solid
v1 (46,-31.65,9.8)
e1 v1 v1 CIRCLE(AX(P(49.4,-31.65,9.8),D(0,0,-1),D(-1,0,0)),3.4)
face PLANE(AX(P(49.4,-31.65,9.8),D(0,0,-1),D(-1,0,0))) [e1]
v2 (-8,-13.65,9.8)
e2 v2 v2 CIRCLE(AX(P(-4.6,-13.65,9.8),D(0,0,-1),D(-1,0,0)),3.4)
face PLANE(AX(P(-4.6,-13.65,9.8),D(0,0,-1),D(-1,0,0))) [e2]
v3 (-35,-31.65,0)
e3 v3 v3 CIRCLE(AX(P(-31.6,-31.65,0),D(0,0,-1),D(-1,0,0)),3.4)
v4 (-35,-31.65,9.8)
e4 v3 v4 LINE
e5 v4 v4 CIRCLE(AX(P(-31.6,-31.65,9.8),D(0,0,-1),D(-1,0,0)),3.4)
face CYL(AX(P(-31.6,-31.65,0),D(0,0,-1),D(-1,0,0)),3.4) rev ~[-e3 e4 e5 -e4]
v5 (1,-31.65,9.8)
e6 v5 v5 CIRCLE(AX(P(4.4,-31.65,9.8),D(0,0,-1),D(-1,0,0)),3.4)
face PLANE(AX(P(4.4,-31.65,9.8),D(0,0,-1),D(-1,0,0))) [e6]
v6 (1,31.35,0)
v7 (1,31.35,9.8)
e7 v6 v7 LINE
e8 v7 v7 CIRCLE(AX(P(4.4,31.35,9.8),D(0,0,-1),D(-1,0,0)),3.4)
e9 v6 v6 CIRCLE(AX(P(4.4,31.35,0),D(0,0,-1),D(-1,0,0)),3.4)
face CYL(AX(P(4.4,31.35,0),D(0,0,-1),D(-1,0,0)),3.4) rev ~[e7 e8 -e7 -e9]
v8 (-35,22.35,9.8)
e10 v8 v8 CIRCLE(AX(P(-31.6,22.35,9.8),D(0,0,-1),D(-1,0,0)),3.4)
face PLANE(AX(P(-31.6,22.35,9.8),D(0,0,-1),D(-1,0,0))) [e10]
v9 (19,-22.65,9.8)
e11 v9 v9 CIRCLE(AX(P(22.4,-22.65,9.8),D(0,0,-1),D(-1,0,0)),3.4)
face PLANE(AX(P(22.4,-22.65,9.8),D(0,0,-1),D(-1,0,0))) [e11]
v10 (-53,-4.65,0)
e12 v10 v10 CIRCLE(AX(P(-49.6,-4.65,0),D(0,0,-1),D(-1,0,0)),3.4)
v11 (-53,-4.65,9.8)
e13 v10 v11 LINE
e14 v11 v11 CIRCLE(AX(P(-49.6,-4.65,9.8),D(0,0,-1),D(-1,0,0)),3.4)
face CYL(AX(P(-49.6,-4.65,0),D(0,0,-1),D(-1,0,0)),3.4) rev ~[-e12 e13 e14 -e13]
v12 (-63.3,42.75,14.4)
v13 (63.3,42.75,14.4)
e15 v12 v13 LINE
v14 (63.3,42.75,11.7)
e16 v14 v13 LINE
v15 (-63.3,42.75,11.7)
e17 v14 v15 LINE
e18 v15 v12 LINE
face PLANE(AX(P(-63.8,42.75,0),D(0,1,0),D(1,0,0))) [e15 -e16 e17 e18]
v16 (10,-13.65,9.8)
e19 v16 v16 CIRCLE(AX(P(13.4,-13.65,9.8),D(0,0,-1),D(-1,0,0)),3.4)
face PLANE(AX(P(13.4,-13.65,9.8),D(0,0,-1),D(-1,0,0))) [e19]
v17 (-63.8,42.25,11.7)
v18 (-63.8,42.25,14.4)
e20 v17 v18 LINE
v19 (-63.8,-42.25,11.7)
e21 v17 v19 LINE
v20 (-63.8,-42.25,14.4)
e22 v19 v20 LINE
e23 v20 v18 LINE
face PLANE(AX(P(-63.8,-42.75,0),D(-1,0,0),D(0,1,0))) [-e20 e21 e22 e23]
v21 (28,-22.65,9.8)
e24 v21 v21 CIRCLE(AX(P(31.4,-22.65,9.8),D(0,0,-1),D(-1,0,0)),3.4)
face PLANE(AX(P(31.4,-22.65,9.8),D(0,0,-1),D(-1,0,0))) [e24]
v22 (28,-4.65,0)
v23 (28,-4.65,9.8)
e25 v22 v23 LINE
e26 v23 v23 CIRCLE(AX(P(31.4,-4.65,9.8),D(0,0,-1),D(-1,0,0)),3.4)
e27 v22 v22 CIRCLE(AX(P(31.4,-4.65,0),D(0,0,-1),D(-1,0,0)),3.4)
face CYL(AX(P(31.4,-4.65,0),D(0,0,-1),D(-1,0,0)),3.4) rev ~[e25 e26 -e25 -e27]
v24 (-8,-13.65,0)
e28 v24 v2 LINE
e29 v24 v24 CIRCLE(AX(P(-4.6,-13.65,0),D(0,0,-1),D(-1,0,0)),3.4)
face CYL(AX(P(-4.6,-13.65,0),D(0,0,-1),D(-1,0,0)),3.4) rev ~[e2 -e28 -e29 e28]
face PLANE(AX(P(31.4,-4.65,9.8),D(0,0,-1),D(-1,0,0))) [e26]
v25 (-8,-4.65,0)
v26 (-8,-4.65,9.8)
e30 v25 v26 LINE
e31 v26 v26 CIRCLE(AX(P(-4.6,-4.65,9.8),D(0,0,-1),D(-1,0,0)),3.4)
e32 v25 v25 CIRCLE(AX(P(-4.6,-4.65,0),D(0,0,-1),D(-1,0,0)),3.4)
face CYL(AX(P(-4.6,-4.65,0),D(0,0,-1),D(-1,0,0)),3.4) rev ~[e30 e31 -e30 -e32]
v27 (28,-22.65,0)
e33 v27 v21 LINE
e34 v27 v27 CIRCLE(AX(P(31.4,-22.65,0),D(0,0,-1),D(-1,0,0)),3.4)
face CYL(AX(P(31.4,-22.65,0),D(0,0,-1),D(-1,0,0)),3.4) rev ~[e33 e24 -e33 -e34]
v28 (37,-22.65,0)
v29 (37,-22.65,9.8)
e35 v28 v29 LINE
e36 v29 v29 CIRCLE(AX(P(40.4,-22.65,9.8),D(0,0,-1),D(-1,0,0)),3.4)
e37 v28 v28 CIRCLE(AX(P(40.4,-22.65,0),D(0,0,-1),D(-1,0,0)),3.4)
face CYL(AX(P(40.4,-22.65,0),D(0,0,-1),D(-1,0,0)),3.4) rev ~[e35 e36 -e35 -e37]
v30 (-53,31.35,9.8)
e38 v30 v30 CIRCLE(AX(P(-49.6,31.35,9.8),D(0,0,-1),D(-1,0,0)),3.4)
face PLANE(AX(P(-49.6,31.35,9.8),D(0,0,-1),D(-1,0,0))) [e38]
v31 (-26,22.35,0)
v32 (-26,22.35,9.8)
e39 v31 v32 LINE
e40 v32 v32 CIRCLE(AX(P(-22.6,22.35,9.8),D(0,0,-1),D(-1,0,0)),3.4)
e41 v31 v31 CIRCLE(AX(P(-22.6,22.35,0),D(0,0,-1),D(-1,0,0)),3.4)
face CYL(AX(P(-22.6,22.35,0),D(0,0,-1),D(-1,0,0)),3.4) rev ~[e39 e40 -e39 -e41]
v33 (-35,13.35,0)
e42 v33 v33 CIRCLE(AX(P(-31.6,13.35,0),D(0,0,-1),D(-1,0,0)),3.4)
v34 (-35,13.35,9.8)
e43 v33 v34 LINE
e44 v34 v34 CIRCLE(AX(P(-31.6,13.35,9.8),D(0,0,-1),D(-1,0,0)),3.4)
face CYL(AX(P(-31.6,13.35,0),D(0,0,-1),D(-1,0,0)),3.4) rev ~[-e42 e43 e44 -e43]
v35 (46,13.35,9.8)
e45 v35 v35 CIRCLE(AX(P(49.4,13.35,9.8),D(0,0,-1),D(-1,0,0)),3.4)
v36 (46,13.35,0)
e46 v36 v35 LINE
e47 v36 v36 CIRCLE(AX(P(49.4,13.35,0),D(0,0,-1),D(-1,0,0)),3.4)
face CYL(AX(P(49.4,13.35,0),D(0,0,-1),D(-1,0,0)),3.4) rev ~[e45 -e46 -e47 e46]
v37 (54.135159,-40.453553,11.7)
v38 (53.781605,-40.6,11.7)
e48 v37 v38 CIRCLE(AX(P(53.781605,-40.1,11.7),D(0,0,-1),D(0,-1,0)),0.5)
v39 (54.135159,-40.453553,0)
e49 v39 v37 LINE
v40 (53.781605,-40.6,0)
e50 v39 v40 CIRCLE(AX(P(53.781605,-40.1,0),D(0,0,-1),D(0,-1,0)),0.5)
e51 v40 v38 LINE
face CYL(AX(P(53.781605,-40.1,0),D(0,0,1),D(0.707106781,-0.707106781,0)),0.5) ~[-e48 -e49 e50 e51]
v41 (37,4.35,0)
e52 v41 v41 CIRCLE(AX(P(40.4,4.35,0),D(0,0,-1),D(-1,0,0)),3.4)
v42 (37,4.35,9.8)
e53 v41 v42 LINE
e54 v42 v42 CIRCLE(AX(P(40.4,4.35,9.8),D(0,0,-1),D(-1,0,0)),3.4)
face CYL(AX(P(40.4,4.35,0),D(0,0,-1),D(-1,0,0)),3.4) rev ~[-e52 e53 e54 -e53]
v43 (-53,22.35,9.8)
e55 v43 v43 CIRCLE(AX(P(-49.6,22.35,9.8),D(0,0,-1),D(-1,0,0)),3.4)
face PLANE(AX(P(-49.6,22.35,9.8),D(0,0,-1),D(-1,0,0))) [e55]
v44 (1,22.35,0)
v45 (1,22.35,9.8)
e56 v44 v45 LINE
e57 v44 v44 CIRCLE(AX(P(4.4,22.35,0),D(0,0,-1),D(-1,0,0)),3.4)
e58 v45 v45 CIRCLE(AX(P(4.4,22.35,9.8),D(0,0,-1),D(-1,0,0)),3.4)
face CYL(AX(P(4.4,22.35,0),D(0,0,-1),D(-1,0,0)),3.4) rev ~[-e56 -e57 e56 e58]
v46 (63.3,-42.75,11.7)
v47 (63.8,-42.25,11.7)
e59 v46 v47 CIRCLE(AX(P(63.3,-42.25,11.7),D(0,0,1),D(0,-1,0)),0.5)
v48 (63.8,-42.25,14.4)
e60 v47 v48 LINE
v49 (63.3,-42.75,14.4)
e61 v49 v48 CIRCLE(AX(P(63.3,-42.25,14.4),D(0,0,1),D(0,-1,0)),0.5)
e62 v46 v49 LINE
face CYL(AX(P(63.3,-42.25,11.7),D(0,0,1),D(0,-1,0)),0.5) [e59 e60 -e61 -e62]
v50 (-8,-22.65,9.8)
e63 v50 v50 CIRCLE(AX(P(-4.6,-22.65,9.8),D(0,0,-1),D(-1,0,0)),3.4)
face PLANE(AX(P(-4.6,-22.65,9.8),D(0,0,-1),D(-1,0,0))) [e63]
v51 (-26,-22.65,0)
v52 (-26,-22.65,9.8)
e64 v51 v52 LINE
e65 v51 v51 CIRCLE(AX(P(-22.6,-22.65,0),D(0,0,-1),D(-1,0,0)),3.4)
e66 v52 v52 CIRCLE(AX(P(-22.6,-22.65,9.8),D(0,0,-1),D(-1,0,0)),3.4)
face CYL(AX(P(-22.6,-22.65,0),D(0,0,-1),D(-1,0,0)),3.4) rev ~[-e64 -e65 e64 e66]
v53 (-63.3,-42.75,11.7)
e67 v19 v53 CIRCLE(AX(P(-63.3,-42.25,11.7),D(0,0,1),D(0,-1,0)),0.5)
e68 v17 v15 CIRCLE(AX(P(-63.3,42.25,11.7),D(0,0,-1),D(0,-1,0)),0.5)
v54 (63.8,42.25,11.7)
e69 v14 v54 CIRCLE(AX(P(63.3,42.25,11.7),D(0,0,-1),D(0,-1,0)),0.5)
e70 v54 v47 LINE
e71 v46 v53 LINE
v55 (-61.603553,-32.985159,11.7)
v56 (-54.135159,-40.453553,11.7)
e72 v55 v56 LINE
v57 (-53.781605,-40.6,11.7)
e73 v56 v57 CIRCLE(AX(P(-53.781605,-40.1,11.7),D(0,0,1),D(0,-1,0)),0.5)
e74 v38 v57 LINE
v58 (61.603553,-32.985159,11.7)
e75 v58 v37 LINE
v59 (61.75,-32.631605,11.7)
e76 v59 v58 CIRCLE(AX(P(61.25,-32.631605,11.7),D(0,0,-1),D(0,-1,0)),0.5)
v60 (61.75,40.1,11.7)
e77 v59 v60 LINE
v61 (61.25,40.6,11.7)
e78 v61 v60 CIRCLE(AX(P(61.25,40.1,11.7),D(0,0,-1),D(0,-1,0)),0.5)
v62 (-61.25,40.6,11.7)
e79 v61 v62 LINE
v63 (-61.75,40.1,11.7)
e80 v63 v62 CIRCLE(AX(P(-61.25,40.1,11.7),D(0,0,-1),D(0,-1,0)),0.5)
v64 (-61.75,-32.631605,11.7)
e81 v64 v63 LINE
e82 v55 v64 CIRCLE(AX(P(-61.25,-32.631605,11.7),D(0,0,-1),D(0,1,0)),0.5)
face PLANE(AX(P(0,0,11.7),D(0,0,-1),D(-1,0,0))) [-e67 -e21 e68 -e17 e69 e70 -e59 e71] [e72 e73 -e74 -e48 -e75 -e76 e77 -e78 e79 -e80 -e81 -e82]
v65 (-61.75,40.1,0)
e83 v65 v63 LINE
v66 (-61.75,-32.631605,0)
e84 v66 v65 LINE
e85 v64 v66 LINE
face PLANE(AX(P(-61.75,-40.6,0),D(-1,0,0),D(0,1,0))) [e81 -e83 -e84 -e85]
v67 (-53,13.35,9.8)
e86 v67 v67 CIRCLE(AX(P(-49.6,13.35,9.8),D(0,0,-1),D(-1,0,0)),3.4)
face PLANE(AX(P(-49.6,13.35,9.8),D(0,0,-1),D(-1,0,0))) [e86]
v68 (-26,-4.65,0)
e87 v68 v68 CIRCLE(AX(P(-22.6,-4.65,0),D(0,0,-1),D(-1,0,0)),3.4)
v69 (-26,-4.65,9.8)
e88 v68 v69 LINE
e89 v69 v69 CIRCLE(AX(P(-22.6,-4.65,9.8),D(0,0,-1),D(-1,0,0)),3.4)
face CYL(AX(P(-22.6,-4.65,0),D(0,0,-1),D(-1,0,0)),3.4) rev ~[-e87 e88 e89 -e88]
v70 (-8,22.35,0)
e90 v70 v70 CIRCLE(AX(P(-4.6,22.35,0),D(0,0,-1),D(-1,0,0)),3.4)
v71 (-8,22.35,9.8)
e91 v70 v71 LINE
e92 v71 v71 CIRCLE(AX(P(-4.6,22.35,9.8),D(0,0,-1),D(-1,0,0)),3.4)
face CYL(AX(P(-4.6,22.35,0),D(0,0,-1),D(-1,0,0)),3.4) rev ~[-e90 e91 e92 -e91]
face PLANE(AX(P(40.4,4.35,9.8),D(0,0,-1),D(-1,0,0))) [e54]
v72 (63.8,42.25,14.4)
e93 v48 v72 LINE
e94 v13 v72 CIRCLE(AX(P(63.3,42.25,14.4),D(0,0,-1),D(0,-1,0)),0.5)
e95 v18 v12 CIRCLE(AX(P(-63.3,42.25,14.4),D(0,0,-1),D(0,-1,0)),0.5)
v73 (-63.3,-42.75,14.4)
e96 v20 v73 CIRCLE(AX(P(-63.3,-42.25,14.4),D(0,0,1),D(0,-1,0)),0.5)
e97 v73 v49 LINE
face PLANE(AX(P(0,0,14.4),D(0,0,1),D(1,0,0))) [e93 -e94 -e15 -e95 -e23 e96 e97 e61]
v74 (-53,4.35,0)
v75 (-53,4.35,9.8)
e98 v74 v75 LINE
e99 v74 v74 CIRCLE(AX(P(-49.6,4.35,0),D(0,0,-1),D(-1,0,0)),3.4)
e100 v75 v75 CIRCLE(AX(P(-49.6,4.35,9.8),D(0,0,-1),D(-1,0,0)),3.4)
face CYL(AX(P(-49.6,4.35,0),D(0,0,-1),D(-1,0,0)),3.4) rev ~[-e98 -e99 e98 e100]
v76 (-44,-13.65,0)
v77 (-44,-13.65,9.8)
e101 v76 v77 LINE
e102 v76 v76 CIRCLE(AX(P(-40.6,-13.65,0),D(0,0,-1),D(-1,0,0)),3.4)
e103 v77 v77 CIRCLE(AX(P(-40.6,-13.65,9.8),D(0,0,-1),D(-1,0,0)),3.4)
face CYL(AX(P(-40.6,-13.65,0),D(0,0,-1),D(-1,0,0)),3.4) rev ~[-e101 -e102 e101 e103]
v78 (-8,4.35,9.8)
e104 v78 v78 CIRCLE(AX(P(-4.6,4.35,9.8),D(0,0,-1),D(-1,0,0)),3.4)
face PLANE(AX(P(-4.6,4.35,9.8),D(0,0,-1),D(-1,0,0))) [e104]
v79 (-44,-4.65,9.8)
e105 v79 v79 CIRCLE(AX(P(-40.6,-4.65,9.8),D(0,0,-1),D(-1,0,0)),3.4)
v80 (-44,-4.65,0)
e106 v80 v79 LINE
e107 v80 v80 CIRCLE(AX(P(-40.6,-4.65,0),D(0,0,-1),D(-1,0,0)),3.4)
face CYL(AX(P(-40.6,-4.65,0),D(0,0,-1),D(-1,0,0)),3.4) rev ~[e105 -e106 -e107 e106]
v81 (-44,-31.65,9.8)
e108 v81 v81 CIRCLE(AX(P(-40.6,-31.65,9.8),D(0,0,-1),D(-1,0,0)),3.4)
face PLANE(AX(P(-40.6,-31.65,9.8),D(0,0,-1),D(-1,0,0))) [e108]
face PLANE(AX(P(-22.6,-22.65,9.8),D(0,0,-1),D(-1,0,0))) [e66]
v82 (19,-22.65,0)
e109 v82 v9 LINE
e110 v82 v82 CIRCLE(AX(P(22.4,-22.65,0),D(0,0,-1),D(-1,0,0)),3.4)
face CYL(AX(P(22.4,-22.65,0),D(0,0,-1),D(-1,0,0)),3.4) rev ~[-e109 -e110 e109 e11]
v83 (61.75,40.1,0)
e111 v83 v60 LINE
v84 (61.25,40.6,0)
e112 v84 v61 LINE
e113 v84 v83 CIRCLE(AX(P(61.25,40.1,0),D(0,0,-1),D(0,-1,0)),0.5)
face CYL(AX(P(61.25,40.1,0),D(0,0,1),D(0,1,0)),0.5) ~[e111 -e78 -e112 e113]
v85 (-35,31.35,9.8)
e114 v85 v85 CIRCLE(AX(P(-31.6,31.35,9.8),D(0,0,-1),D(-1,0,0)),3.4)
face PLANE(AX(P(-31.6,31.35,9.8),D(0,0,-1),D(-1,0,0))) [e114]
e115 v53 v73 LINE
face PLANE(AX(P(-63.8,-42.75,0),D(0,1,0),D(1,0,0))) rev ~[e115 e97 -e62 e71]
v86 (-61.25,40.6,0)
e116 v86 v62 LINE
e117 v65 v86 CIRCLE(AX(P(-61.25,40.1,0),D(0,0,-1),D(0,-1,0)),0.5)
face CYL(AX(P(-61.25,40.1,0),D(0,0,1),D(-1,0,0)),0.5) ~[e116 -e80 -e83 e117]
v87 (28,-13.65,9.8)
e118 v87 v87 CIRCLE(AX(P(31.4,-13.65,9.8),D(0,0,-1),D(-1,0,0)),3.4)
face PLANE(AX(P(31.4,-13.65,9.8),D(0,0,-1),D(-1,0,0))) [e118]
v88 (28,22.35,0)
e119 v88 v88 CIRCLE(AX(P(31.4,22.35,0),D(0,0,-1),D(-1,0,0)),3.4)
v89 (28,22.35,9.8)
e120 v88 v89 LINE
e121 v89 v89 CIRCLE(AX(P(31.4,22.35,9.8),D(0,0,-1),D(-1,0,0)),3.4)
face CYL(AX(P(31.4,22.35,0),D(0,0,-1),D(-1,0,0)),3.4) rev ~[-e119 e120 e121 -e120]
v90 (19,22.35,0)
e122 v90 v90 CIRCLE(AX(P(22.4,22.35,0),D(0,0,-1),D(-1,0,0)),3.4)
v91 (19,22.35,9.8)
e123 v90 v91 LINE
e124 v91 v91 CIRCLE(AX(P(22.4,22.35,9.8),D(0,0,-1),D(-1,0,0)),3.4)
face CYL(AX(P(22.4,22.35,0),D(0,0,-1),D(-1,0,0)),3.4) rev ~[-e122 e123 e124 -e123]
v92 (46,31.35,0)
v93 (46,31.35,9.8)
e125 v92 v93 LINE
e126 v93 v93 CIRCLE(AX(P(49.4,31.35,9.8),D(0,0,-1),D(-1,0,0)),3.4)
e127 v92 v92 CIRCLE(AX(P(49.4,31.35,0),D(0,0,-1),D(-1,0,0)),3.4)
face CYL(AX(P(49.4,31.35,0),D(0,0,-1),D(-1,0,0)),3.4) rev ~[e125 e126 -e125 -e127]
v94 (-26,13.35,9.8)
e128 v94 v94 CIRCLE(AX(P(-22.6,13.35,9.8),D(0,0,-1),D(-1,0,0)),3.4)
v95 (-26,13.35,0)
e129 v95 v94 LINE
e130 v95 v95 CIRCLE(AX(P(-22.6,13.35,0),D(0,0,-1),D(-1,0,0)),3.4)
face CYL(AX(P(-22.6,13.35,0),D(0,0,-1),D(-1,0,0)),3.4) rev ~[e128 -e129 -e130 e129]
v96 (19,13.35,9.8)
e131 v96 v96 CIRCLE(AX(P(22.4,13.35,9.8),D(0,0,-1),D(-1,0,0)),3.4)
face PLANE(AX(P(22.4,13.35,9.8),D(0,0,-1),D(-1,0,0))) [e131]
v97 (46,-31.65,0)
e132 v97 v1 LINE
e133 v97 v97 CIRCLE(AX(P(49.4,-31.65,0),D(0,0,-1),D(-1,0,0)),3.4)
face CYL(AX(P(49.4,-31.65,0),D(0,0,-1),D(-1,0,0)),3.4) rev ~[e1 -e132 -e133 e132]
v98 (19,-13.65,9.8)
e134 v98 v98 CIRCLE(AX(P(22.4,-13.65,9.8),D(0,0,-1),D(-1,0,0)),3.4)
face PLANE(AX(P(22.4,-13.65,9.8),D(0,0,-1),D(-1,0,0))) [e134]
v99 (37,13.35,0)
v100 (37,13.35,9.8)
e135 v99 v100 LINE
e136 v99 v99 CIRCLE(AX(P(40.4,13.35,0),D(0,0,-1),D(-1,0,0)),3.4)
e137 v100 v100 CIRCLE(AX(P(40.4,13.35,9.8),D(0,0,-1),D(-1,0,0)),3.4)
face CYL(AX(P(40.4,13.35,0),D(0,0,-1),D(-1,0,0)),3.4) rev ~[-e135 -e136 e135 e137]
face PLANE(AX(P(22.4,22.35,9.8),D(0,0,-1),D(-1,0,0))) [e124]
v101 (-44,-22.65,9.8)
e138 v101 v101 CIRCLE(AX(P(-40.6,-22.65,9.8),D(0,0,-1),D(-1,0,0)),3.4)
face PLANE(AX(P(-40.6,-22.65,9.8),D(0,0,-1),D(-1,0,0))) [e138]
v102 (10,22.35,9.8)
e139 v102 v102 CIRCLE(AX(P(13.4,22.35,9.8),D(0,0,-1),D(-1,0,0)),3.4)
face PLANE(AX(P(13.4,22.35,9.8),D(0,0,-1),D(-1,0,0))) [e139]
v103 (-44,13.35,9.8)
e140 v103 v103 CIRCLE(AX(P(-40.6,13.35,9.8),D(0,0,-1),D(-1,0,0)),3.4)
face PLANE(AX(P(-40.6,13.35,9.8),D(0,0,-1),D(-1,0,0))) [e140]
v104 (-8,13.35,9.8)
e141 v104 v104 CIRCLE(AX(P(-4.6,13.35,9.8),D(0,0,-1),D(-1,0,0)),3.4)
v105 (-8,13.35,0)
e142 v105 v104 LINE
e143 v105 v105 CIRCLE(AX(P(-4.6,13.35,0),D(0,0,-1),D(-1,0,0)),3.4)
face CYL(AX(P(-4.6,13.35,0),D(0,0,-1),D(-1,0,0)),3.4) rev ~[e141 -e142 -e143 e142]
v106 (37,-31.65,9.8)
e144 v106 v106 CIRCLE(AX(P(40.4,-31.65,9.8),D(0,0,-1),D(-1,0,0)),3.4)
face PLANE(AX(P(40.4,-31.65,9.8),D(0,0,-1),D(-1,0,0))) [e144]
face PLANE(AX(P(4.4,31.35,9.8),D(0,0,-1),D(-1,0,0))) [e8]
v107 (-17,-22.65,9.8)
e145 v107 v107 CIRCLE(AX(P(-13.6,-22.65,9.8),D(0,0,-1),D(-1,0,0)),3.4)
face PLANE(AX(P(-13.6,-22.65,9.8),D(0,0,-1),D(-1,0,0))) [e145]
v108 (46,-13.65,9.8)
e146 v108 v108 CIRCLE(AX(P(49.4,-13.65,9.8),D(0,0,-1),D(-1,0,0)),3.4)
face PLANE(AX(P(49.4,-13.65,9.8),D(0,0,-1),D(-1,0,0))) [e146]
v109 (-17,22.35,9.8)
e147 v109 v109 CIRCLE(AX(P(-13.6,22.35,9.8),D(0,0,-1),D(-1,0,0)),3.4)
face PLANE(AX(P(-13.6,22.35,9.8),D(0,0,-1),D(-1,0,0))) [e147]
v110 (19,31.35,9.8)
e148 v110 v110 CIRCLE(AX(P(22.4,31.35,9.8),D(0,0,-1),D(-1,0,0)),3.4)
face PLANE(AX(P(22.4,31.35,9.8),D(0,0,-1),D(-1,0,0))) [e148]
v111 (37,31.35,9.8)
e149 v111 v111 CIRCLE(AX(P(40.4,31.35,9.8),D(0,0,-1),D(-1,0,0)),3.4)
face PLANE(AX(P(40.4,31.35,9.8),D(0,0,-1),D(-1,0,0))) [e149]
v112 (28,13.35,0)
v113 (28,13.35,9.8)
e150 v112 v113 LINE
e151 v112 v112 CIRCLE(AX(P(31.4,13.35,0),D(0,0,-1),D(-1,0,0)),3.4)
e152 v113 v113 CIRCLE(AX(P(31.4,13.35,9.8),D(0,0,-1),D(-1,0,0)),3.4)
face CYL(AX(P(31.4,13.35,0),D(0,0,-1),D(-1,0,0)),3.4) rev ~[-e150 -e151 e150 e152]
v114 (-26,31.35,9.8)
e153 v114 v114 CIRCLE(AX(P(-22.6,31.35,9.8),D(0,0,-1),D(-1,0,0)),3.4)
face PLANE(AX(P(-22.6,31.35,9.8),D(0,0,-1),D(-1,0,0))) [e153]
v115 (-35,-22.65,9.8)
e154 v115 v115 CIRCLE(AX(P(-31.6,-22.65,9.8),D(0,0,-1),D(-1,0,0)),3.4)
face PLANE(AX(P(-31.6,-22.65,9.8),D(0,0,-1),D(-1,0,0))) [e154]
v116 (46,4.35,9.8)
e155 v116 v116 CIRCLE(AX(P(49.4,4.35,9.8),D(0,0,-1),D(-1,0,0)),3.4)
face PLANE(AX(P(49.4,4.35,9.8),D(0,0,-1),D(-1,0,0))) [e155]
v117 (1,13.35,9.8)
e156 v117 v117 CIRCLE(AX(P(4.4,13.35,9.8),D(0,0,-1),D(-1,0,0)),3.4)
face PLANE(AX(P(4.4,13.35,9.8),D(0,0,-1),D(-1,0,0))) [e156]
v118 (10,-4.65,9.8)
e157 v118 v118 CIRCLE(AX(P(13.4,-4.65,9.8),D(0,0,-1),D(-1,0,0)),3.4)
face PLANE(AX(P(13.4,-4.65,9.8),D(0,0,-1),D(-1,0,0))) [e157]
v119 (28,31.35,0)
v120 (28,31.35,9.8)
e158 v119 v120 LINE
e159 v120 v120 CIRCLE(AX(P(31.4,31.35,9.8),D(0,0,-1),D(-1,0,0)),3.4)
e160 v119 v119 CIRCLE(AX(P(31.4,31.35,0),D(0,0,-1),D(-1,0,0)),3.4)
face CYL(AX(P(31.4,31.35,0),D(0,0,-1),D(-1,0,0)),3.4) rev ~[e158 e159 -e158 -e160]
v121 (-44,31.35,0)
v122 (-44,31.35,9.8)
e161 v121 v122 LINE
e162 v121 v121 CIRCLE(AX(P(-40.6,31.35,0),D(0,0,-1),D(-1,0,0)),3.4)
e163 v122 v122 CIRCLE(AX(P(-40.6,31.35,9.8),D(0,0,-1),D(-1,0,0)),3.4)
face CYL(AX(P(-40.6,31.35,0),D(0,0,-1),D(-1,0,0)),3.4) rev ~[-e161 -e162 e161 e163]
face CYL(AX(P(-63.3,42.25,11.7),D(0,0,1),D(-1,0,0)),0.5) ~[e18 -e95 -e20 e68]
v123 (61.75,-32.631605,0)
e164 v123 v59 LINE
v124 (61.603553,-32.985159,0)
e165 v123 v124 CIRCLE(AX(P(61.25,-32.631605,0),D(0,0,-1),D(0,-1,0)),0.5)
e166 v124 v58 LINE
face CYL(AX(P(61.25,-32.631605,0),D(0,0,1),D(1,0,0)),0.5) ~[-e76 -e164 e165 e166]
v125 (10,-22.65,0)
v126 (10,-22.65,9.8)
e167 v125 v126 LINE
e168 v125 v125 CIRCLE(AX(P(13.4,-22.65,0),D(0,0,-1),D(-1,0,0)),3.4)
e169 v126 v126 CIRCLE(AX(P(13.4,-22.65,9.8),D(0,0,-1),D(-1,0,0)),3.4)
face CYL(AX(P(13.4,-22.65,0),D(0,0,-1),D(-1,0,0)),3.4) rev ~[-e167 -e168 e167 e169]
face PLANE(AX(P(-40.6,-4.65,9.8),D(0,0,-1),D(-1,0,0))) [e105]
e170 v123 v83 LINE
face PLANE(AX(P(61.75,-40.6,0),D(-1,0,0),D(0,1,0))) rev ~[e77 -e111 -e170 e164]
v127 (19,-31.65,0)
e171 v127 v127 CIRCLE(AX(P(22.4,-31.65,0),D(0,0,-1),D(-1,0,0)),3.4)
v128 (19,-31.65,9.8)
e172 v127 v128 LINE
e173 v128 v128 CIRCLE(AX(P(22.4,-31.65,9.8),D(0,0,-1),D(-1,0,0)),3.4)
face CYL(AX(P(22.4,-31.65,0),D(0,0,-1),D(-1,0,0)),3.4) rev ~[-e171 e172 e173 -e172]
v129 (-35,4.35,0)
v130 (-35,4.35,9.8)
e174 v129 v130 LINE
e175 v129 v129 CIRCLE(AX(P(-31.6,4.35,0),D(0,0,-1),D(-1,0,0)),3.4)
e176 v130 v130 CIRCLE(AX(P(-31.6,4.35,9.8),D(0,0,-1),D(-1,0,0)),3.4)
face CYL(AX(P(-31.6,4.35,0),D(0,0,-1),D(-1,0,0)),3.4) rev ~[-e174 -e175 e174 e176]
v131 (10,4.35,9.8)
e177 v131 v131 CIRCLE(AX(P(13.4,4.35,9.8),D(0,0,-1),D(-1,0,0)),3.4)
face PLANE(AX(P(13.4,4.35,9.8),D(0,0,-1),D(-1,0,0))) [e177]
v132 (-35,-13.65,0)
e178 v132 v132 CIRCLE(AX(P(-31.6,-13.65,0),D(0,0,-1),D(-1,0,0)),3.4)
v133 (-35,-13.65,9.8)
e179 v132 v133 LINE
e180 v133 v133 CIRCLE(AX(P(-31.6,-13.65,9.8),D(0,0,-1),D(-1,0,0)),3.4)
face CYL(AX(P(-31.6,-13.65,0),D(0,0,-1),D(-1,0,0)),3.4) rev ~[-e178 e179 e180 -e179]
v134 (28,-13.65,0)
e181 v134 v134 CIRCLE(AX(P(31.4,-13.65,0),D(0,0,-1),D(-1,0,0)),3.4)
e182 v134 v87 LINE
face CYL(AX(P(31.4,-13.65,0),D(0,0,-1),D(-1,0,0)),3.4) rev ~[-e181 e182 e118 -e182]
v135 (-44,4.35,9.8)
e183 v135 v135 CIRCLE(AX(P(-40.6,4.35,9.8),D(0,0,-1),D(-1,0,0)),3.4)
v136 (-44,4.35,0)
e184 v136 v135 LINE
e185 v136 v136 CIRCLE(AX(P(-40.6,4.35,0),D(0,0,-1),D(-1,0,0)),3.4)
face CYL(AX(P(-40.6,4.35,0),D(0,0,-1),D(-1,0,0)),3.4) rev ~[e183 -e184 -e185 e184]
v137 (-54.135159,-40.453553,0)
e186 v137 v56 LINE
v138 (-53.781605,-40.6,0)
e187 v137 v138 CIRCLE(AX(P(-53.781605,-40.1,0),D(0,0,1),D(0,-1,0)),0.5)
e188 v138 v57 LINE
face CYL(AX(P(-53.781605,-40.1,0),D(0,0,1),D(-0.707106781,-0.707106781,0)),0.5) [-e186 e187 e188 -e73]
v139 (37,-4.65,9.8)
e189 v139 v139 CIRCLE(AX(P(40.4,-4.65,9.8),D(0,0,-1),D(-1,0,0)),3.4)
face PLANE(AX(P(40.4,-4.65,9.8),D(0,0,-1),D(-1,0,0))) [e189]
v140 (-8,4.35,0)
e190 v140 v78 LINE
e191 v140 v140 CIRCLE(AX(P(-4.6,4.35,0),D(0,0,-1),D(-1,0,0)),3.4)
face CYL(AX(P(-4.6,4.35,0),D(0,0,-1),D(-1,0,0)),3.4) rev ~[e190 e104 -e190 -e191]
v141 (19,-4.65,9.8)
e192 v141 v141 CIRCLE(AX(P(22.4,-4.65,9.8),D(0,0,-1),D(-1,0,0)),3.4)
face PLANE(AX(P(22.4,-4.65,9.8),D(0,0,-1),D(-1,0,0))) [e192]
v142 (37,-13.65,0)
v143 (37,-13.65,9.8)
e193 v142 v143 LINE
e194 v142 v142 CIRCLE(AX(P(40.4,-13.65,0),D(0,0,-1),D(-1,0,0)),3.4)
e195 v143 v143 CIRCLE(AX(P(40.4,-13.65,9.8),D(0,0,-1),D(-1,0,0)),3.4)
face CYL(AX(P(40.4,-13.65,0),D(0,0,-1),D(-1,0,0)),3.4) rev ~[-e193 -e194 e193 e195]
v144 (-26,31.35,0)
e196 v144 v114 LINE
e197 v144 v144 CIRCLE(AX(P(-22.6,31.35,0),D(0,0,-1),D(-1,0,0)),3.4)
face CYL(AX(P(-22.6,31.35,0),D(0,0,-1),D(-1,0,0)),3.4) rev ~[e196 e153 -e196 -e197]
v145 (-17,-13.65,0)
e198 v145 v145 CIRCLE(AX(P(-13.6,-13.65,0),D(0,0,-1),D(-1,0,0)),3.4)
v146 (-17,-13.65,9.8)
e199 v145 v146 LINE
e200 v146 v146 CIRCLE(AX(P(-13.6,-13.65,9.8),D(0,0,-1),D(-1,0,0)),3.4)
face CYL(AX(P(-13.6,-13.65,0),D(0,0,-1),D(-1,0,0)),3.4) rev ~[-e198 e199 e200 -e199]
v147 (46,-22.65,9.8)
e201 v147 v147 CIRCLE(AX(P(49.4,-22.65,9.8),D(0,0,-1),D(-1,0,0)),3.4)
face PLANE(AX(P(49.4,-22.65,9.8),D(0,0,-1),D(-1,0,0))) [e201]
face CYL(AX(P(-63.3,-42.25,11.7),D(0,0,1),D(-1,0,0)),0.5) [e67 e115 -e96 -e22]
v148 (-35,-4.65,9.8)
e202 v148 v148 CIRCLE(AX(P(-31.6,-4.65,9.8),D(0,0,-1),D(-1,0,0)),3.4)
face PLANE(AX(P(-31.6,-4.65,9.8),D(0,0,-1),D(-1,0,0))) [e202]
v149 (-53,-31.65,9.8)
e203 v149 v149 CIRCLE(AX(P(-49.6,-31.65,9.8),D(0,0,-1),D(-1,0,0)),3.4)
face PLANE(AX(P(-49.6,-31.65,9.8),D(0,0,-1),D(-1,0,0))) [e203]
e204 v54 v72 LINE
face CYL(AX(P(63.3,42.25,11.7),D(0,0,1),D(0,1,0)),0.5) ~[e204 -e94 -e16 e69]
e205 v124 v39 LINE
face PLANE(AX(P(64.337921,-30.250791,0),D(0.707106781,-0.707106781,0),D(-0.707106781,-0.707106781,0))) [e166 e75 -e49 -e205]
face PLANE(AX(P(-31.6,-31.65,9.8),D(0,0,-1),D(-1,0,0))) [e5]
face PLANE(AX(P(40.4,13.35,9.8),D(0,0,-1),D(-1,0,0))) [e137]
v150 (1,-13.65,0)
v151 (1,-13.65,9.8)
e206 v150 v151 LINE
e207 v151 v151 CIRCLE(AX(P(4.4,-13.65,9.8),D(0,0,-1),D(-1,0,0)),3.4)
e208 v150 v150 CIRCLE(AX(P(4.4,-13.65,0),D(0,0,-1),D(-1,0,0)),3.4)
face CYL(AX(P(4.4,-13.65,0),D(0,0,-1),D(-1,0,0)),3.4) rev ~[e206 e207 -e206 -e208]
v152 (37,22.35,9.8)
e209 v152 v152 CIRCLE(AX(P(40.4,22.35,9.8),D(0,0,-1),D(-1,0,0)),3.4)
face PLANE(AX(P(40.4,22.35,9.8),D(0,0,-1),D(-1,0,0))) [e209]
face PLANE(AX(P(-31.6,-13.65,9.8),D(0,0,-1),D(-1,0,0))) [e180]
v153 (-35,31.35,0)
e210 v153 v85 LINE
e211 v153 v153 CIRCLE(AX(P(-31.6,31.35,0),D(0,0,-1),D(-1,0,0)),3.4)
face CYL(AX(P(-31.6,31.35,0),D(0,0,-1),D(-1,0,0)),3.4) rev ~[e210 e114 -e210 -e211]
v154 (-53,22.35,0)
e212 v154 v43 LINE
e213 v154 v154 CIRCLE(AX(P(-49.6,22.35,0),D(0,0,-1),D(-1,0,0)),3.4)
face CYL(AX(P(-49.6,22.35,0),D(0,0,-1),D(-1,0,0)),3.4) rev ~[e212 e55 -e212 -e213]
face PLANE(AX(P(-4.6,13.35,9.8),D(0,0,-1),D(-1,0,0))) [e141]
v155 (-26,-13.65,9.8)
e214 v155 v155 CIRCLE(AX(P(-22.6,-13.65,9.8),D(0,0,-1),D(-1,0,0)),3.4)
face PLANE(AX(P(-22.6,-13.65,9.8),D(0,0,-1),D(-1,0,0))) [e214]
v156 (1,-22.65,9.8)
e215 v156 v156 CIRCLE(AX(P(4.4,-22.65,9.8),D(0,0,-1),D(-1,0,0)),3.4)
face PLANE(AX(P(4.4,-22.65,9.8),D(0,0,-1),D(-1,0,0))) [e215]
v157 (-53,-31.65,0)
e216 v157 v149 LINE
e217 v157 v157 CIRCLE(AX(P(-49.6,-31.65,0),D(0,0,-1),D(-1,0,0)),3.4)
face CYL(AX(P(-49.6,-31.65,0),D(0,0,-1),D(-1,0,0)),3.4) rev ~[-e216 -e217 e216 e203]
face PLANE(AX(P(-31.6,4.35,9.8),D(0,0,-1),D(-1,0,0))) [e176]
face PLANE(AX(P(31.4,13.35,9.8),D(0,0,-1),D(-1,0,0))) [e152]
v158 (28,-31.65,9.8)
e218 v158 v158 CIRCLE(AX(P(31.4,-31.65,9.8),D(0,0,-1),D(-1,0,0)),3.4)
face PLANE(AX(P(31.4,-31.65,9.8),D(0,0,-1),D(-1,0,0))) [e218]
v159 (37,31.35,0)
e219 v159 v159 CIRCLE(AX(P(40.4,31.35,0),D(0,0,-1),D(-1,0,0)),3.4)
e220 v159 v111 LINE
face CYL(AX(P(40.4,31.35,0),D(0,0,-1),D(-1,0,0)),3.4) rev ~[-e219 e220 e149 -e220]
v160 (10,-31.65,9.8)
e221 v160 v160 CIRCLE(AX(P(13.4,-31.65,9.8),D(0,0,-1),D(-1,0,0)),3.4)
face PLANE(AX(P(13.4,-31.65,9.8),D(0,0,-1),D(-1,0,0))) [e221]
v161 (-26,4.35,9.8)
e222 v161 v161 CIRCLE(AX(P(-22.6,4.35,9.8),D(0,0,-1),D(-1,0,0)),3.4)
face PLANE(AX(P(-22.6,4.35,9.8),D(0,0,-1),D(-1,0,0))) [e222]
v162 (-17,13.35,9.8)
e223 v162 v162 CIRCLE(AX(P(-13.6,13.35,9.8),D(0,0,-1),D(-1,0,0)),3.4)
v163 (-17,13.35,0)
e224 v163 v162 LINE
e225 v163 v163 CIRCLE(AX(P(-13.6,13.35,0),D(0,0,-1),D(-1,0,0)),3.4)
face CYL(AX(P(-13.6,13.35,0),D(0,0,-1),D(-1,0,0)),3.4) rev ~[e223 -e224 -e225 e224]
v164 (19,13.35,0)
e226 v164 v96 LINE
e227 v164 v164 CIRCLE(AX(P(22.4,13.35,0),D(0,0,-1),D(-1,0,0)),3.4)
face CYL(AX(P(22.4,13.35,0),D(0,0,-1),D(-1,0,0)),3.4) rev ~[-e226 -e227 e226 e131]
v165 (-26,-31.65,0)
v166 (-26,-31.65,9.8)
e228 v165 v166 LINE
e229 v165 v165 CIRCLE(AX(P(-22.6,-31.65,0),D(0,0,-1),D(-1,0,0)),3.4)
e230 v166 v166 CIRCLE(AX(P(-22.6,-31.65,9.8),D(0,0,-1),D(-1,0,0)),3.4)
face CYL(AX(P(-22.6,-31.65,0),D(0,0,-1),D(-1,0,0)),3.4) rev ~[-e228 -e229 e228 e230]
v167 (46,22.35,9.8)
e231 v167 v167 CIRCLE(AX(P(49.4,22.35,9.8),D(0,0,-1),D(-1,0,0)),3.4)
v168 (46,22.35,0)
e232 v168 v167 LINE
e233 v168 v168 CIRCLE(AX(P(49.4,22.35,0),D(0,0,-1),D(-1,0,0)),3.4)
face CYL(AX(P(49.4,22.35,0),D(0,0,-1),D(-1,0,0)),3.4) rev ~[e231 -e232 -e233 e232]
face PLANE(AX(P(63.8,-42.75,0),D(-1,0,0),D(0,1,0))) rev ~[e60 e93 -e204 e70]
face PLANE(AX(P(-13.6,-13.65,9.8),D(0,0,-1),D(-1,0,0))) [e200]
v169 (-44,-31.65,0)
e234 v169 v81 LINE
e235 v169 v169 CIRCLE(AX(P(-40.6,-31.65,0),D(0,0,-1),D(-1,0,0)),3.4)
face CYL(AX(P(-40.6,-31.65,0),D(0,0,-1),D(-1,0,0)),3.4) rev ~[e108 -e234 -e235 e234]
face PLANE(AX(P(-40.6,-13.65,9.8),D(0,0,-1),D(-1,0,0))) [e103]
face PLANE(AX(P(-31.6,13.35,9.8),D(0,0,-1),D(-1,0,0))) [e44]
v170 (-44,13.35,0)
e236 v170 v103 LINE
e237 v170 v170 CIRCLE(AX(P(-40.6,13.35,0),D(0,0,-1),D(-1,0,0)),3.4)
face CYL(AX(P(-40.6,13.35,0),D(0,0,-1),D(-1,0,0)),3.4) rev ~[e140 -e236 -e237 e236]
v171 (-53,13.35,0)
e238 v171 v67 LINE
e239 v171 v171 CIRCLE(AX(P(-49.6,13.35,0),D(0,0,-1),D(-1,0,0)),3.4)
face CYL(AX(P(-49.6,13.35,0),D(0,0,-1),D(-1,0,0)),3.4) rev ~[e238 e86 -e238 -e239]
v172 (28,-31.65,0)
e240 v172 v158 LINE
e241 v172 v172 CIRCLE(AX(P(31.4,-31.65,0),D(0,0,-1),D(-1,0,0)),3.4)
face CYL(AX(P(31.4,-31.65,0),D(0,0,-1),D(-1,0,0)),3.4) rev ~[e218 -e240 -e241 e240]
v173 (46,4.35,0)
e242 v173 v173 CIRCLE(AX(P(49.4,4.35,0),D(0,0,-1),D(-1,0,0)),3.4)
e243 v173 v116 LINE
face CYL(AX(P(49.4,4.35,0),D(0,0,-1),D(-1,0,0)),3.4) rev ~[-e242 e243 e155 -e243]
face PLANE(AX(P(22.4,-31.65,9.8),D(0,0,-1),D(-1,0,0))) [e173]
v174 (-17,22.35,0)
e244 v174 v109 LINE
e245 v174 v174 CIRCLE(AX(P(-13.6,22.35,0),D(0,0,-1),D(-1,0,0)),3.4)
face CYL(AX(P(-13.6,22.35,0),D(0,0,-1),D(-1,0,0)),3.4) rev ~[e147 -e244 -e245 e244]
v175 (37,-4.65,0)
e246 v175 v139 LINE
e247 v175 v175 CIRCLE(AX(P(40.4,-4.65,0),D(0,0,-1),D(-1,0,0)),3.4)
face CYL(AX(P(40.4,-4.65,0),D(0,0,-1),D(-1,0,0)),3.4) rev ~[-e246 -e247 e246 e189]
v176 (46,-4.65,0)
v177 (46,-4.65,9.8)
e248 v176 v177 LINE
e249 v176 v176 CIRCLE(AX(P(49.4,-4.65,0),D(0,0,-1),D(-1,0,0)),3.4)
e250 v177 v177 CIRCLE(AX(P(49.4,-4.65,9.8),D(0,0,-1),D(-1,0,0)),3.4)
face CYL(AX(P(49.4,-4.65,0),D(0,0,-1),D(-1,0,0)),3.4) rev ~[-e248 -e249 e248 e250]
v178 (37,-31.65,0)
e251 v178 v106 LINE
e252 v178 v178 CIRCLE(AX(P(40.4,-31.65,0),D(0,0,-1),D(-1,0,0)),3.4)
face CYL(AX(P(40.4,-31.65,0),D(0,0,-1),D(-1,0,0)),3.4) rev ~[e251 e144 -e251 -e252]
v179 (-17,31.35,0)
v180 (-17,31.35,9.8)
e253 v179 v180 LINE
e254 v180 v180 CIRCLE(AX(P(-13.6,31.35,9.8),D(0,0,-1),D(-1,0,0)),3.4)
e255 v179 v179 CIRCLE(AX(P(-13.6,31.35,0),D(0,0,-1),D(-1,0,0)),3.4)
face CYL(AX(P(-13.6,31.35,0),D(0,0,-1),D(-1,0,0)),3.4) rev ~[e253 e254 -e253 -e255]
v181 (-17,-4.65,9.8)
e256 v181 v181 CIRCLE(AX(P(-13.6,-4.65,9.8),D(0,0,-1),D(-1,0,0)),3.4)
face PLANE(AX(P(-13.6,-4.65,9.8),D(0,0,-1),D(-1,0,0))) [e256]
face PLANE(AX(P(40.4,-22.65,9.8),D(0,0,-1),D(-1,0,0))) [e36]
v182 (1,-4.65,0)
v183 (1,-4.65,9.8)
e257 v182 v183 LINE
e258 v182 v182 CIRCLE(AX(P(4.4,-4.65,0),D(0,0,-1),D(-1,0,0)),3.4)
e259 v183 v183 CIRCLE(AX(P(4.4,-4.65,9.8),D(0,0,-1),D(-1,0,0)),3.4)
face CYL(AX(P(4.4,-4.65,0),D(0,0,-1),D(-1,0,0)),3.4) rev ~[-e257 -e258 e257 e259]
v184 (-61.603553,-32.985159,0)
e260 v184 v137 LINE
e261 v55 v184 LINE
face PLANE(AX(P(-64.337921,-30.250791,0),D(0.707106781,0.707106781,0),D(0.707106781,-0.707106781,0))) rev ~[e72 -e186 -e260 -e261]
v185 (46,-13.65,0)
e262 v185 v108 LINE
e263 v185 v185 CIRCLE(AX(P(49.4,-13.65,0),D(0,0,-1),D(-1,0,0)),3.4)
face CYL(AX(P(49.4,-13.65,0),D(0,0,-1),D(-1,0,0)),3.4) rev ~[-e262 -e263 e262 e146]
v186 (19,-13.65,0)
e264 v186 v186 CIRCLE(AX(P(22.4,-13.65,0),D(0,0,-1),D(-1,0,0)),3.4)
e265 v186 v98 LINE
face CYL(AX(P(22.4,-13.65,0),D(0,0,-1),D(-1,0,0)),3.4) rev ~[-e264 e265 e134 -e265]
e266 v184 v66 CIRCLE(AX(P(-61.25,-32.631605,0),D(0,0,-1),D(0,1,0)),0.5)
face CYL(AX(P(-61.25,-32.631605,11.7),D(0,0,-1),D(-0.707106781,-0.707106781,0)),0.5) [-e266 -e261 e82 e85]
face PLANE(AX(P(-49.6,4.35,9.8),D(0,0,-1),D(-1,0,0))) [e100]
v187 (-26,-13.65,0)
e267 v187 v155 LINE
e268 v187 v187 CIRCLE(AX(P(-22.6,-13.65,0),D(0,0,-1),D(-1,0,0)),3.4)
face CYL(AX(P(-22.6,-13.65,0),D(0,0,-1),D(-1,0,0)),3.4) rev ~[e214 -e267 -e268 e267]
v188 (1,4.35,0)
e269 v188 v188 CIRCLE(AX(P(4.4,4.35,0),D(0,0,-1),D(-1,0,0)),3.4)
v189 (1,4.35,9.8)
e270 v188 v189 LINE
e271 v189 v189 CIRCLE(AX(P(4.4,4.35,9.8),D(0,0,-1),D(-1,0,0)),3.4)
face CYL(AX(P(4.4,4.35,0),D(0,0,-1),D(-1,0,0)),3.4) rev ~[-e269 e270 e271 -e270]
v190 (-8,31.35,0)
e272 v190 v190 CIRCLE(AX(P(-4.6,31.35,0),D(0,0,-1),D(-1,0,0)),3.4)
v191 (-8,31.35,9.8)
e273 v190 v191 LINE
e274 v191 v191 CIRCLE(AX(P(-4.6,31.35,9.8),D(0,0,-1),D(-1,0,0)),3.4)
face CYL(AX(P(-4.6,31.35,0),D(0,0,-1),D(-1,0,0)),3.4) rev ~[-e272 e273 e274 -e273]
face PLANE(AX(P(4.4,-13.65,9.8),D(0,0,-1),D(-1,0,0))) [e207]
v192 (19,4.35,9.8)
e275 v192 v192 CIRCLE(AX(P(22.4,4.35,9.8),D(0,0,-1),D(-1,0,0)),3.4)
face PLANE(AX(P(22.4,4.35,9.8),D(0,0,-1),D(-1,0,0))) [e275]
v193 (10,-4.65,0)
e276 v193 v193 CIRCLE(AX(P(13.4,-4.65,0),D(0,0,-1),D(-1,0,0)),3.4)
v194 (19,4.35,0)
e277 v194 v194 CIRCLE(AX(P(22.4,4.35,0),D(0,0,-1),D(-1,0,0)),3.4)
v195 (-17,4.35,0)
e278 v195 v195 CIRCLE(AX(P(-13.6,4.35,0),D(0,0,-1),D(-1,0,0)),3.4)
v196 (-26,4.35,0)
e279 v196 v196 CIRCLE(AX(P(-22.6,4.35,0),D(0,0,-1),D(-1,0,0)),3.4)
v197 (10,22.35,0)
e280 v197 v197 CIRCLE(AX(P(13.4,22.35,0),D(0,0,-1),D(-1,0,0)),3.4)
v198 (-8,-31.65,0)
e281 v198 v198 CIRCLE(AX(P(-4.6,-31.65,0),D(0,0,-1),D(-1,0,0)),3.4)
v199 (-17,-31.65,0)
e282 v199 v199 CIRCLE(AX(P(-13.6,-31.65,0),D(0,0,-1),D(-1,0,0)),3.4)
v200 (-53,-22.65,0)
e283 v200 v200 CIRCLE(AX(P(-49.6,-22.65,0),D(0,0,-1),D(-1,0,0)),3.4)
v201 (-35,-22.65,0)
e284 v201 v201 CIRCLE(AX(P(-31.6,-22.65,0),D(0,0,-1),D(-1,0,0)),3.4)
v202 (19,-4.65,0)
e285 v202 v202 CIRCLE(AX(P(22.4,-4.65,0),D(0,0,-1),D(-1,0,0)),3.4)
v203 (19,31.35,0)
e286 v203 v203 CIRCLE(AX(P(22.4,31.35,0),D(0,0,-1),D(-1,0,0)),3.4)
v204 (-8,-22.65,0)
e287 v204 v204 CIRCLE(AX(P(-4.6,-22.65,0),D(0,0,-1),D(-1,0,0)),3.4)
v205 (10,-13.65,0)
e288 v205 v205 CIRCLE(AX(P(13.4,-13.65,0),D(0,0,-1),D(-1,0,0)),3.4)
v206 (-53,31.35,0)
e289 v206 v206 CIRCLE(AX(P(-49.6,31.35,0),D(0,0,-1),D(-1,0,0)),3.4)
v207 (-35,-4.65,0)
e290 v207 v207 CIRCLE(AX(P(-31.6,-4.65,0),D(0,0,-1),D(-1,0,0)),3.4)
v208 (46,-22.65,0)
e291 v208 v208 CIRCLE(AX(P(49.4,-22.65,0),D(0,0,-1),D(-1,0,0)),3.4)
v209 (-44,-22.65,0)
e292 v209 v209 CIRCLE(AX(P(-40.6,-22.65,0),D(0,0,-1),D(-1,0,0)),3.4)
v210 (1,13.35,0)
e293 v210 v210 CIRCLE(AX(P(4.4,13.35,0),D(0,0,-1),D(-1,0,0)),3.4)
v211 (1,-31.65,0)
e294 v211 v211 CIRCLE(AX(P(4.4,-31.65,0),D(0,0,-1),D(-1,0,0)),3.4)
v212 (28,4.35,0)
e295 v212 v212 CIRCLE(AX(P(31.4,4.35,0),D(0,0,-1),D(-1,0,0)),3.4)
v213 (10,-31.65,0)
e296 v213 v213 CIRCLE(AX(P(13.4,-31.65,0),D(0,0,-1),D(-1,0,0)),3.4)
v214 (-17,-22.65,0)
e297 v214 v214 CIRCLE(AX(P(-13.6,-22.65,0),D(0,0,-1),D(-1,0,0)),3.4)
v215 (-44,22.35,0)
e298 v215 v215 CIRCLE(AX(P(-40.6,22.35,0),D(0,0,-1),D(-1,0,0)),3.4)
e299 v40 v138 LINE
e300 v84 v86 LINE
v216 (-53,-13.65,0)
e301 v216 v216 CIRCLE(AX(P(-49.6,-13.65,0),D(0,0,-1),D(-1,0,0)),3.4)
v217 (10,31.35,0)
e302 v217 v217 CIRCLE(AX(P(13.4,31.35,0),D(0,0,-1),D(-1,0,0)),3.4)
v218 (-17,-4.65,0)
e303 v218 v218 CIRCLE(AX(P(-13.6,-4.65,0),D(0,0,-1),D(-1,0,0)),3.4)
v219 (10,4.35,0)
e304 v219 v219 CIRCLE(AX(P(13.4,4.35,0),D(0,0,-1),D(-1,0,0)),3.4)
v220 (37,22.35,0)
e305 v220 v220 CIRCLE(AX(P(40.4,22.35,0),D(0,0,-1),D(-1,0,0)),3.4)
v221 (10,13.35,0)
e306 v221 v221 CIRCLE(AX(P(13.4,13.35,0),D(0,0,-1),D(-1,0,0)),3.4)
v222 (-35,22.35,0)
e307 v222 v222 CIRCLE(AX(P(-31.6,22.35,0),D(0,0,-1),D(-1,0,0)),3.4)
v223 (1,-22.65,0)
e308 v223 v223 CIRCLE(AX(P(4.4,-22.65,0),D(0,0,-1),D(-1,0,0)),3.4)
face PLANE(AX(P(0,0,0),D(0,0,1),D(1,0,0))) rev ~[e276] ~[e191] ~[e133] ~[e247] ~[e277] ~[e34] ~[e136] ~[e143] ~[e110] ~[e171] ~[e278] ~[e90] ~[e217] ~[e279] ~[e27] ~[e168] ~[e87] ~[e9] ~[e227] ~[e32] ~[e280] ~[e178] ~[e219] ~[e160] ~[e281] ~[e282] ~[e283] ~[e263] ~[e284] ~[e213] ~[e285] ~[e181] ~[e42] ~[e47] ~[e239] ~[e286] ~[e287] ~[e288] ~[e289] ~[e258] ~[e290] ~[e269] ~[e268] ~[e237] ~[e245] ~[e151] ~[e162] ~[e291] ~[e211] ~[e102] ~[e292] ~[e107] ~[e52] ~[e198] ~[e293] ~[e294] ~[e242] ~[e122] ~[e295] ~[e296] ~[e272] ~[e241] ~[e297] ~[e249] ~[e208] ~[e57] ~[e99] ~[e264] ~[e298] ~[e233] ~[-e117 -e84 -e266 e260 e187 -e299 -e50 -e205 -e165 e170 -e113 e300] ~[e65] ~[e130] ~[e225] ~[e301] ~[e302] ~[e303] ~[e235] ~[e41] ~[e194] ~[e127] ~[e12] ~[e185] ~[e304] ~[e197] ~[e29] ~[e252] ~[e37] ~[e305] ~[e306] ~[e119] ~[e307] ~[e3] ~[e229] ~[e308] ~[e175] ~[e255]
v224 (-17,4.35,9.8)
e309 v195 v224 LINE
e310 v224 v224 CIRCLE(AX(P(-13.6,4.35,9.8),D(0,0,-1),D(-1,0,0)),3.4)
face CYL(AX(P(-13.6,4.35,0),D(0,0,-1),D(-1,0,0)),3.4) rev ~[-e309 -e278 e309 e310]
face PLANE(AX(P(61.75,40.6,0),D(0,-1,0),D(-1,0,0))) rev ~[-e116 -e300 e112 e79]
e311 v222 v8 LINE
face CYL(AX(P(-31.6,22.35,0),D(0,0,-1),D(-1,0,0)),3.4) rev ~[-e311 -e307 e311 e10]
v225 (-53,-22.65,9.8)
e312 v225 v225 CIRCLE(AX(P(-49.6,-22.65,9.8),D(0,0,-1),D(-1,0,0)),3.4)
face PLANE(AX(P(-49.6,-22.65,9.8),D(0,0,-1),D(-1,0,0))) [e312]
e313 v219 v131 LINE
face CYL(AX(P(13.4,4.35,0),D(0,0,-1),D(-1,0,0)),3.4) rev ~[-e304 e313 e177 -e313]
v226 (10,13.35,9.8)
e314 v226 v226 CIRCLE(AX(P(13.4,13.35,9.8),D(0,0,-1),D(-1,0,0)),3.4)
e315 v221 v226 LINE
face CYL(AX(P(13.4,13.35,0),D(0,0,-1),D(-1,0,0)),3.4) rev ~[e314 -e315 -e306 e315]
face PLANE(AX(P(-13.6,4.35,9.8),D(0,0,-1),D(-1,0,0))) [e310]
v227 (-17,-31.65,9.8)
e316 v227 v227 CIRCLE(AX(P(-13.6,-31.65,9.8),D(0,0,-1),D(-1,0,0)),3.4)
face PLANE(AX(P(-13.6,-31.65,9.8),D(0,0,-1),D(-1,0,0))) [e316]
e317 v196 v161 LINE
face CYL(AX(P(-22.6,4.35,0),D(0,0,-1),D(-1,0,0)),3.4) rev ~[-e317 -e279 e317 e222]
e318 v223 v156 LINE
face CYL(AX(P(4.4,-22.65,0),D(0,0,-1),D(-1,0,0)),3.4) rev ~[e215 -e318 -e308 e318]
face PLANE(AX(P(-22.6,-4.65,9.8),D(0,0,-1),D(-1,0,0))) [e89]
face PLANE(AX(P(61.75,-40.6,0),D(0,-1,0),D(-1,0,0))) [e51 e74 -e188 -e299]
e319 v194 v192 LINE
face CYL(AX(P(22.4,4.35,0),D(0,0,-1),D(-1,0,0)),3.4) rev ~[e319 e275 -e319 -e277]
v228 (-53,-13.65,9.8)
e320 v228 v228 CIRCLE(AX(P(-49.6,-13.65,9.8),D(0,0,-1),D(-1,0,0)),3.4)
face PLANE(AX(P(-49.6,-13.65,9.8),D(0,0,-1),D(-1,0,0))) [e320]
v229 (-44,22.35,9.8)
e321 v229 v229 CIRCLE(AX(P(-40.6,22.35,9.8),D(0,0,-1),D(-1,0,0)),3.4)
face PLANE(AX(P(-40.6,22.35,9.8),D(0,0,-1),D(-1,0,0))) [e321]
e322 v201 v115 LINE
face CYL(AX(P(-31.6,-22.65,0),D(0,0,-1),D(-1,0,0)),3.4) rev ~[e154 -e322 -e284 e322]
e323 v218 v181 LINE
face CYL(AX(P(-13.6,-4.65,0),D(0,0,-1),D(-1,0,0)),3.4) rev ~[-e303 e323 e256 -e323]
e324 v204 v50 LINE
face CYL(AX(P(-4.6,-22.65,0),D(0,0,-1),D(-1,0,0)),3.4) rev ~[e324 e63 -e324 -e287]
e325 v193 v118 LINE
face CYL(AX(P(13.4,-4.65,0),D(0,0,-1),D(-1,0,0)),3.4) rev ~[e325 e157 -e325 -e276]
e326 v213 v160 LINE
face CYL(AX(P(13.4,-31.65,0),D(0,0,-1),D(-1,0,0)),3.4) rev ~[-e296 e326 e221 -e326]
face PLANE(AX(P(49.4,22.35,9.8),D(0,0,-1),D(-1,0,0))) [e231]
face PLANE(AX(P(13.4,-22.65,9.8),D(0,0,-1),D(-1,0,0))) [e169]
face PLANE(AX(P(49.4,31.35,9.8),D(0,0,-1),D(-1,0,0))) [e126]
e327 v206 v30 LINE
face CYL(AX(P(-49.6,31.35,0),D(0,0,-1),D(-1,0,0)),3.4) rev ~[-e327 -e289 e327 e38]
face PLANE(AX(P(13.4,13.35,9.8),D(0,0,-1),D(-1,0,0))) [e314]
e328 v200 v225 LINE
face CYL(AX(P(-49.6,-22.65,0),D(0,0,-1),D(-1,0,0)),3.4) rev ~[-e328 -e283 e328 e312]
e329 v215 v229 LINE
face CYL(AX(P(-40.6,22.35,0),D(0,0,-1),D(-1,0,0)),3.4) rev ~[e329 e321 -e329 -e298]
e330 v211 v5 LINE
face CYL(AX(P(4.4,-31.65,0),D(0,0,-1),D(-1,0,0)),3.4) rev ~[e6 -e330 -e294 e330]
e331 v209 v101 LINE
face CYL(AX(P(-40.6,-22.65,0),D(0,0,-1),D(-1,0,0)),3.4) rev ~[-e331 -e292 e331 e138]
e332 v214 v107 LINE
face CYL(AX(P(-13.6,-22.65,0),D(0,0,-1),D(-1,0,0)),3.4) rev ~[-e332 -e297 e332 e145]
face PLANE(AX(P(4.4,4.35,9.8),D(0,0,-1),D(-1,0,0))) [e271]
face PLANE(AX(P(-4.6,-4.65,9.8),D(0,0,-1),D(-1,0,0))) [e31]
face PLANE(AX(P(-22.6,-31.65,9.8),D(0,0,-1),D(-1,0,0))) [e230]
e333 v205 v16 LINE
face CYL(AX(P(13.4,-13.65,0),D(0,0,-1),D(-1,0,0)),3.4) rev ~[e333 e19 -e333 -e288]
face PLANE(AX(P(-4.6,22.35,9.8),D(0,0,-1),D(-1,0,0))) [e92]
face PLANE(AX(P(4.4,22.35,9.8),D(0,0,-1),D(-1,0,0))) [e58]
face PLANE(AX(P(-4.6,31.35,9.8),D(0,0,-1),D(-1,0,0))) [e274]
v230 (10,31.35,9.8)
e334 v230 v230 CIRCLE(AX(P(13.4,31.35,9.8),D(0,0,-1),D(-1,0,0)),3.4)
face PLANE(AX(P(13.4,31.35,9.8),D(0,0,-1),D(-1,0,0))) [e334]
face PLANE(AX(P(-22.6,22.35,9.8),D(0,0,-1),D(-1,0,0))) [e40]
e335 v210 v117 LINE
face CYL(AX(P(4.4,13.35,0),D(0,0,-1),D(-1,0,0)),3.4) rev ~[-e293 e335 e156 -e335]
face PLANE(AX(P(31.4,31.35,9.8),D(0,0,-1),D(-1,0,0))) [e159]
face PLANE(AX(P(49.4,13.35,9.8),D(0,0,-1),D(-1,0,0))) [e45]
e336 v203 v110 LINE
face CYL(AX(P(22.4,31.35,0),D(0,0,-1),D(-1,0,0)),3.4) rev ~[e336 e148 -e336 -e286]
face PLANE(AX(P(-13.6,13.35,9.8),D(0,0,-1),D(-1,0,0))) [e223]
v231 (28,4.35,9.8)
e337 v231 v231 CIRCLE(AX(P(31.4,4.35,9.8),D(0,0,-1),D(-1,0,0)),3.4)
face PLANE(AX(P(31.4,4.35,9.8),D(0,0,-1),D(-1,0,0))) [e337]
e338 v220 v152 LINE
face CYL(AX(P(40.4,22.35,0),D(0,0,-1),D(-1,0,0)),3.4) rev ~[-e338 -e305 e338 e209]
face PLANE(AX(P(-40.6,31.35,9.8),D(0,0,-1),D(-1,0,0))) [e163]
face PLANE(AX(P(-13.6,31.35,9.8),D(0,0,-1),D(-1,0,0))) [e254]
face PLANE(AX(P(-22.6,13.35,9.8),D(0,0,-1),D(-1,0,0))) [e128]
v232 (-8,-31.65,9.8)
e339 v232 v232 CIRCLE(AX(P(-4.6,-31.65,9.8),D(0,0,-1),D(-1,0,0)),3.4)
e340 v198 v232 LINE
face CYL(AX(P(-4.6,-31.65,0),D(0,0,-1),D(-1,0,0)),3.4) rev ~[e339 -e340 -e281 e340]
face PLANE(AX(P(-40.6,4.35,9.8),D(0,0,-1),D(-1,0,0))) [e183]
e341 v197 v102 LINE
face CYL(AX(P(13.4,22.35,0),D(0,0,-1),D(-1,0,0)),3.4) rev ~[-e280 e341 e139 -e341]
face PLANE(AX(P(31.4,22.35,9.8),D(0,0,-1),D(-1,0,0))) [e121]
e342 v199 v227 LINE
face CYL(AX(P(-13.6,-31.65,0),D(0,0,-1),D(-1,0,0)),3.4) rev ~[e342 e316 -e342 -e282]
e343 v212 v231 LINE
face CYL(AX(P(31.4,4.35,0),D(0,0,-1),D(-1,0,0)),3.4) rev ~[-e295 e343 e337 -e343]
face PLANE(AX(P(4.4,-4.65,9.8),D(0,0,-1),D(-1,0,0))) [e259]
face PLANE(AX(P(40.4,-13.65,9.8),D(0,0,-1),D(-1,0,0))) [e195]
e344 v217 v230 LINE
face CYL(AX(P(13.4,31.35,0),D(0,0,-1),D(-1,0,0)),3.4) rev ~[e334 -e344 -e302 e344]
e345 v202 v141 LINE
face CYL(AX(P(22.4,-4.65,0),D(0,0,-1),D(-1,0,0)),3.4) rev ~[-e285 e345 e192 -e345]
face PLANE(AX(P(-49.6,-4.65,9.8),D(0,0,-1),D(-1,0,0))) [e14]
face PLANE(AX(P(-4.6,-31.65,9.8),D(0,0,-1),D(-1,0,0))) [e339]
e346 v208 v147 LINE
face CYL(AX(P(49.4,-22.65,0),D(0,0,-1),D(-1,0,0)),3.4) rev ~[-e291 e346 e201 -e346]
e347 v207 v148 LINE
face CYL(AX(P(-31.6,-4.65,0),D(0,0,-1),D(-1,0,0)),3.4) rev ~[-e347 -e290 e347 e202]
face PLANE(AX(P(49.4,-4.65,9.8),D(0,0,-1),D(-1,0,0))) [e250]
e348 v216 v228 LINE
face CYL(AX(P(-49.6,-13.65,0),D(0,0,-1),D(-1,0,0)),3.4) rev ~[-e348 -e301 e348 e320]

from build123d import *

# Parameters (mm, degrees)
SKETCH1_W            = 127.6
SKETCH1_H            = 85.5
BOSS_EXTRUDE1_DEPTH  = 14.4
SKETCH2_W            = 127.6
SKETCH2_H            = 85.5
SKETCH2_W_2          = 123.5
SKETCH2_H_2          = 81.2
CUT_EXTRUDE1_DEPTH   = 11.7
FILLET1_R            = 0.5
SKETCH3_R            = 3.4
CUT_EXTRUDE2_DEPTH   = 9.8
LPATTERN2_COUNT      = 8
LPATTERN2_PITCH      = 9
LPATTERN2_COUNT_DIR2 = 12
LPATTERN2_PITCH_DIR2 = 9
CUT_EXTRUDE3_DEPTH   = 11.7
FILLET2_R            = 0.5


with BuildPart() as part:
    # Sketch1 → Boss-Extrude1 (new body)
    with BuildSketch(Plane.XY):
        Rectangle(SKETCH1_W, SKETCH1_H)
    extrude(amount=BOSS_EXTRUDE1_DEPTH)

    # Sketch2 → Cut-Extrude1 (cut)
    with BuildSketch(Plane(origin=(0, 0, 0), x_dir=(-1, 0, 0), z_dir=(0, 0, -1))):
        Rectangle(SKETCH2_W, SKETCH2_H)
        Rectangle(SKETCH2_W_2, SKETCH2_H_2, mode=Mode.SUBTRACT)
    extrude(amount=-CUT_EXTRUDE1_DEPTH, mode=Mode.SUBTRACT)

    # Fillet1
    fillet1_edges = [part.edges().sort_by_distance(p)[0] for p in [
        (-61.75, -40.6, 5.85),
        (61.75, -40.6, 5.85),
        (61.75, 40.6, 5.85),
        (-61.75, 40.6, 5.85),
        (63.8, -42.75, 13.05),
        (-63.8, -42.75, 13.05),
        (-63.8, 42.75, 13.05),
        (63.8, 42.75, 13.05),
    ]]
    fillet(fillet1_edges, radius=FILLET1_R)

    # Sketch3 → Cut-Extrude2 (cut)
    with BuildSketch(Plane(origin=(0, 0, 0), x_dir=(-1, 0, 0), z_dir=(0, 0, -1))):
        with Locations((-49.4, 31.35)):
            Circle(SKETCH3_R)
    cut_extrude2 = extrude(amount=-CUT_EXTRUDE2_DEPTH, mode=Mode.SUBTRACT)

    # LPattern2: Cut-Extrude2 8 × 12
    with Locations(*[(-j * LPATTERN2_PITCH_DIR2, -i * LPATTERN2_PITCH, 0) for i in range(LPATTERN2_COUNT) for j in range(LPATTERN2_COUNT_DIR2) if (i, j) != (0, 0)]):
        add(cut_extrude2, mode=Mode.SUBTRACT)

    # Sketch4 → Cut-Extrude3 (cut)
    with BuildSketch(Plane(origin=(0, 0, 0), x_dir=(-1, 0, 0), z_dir=(0, 0, -1))):
        Polygon((-64.33792147, -30.250790597), (-51.805815692, -42.782896374), (-64.33792147, -42.782896374), align=None)
        Polygon((64.33792147, -42.782896374), (64.33792147, -30.250790597), (51.805815692, -42.782896374), align=None)
    extrude(amount=-CUT_EXTRUDE3_DEPTH, mode=Mode.SUBTRACT)

    # Fillet2
    fillet2_edges = [part.edges().sort_by_distance(p)[0] for p in [
        (53.988712066, -40.6, 5.85),
        (61.75, -32.838712066, 5.85),
        (-61.75, -32.838712066, 5.85),
        (-53.988712066, -40.6, 5.85),
    ]]
    fillet(fillet2_edges, radius=FILLET2_R)


solid = part.part
